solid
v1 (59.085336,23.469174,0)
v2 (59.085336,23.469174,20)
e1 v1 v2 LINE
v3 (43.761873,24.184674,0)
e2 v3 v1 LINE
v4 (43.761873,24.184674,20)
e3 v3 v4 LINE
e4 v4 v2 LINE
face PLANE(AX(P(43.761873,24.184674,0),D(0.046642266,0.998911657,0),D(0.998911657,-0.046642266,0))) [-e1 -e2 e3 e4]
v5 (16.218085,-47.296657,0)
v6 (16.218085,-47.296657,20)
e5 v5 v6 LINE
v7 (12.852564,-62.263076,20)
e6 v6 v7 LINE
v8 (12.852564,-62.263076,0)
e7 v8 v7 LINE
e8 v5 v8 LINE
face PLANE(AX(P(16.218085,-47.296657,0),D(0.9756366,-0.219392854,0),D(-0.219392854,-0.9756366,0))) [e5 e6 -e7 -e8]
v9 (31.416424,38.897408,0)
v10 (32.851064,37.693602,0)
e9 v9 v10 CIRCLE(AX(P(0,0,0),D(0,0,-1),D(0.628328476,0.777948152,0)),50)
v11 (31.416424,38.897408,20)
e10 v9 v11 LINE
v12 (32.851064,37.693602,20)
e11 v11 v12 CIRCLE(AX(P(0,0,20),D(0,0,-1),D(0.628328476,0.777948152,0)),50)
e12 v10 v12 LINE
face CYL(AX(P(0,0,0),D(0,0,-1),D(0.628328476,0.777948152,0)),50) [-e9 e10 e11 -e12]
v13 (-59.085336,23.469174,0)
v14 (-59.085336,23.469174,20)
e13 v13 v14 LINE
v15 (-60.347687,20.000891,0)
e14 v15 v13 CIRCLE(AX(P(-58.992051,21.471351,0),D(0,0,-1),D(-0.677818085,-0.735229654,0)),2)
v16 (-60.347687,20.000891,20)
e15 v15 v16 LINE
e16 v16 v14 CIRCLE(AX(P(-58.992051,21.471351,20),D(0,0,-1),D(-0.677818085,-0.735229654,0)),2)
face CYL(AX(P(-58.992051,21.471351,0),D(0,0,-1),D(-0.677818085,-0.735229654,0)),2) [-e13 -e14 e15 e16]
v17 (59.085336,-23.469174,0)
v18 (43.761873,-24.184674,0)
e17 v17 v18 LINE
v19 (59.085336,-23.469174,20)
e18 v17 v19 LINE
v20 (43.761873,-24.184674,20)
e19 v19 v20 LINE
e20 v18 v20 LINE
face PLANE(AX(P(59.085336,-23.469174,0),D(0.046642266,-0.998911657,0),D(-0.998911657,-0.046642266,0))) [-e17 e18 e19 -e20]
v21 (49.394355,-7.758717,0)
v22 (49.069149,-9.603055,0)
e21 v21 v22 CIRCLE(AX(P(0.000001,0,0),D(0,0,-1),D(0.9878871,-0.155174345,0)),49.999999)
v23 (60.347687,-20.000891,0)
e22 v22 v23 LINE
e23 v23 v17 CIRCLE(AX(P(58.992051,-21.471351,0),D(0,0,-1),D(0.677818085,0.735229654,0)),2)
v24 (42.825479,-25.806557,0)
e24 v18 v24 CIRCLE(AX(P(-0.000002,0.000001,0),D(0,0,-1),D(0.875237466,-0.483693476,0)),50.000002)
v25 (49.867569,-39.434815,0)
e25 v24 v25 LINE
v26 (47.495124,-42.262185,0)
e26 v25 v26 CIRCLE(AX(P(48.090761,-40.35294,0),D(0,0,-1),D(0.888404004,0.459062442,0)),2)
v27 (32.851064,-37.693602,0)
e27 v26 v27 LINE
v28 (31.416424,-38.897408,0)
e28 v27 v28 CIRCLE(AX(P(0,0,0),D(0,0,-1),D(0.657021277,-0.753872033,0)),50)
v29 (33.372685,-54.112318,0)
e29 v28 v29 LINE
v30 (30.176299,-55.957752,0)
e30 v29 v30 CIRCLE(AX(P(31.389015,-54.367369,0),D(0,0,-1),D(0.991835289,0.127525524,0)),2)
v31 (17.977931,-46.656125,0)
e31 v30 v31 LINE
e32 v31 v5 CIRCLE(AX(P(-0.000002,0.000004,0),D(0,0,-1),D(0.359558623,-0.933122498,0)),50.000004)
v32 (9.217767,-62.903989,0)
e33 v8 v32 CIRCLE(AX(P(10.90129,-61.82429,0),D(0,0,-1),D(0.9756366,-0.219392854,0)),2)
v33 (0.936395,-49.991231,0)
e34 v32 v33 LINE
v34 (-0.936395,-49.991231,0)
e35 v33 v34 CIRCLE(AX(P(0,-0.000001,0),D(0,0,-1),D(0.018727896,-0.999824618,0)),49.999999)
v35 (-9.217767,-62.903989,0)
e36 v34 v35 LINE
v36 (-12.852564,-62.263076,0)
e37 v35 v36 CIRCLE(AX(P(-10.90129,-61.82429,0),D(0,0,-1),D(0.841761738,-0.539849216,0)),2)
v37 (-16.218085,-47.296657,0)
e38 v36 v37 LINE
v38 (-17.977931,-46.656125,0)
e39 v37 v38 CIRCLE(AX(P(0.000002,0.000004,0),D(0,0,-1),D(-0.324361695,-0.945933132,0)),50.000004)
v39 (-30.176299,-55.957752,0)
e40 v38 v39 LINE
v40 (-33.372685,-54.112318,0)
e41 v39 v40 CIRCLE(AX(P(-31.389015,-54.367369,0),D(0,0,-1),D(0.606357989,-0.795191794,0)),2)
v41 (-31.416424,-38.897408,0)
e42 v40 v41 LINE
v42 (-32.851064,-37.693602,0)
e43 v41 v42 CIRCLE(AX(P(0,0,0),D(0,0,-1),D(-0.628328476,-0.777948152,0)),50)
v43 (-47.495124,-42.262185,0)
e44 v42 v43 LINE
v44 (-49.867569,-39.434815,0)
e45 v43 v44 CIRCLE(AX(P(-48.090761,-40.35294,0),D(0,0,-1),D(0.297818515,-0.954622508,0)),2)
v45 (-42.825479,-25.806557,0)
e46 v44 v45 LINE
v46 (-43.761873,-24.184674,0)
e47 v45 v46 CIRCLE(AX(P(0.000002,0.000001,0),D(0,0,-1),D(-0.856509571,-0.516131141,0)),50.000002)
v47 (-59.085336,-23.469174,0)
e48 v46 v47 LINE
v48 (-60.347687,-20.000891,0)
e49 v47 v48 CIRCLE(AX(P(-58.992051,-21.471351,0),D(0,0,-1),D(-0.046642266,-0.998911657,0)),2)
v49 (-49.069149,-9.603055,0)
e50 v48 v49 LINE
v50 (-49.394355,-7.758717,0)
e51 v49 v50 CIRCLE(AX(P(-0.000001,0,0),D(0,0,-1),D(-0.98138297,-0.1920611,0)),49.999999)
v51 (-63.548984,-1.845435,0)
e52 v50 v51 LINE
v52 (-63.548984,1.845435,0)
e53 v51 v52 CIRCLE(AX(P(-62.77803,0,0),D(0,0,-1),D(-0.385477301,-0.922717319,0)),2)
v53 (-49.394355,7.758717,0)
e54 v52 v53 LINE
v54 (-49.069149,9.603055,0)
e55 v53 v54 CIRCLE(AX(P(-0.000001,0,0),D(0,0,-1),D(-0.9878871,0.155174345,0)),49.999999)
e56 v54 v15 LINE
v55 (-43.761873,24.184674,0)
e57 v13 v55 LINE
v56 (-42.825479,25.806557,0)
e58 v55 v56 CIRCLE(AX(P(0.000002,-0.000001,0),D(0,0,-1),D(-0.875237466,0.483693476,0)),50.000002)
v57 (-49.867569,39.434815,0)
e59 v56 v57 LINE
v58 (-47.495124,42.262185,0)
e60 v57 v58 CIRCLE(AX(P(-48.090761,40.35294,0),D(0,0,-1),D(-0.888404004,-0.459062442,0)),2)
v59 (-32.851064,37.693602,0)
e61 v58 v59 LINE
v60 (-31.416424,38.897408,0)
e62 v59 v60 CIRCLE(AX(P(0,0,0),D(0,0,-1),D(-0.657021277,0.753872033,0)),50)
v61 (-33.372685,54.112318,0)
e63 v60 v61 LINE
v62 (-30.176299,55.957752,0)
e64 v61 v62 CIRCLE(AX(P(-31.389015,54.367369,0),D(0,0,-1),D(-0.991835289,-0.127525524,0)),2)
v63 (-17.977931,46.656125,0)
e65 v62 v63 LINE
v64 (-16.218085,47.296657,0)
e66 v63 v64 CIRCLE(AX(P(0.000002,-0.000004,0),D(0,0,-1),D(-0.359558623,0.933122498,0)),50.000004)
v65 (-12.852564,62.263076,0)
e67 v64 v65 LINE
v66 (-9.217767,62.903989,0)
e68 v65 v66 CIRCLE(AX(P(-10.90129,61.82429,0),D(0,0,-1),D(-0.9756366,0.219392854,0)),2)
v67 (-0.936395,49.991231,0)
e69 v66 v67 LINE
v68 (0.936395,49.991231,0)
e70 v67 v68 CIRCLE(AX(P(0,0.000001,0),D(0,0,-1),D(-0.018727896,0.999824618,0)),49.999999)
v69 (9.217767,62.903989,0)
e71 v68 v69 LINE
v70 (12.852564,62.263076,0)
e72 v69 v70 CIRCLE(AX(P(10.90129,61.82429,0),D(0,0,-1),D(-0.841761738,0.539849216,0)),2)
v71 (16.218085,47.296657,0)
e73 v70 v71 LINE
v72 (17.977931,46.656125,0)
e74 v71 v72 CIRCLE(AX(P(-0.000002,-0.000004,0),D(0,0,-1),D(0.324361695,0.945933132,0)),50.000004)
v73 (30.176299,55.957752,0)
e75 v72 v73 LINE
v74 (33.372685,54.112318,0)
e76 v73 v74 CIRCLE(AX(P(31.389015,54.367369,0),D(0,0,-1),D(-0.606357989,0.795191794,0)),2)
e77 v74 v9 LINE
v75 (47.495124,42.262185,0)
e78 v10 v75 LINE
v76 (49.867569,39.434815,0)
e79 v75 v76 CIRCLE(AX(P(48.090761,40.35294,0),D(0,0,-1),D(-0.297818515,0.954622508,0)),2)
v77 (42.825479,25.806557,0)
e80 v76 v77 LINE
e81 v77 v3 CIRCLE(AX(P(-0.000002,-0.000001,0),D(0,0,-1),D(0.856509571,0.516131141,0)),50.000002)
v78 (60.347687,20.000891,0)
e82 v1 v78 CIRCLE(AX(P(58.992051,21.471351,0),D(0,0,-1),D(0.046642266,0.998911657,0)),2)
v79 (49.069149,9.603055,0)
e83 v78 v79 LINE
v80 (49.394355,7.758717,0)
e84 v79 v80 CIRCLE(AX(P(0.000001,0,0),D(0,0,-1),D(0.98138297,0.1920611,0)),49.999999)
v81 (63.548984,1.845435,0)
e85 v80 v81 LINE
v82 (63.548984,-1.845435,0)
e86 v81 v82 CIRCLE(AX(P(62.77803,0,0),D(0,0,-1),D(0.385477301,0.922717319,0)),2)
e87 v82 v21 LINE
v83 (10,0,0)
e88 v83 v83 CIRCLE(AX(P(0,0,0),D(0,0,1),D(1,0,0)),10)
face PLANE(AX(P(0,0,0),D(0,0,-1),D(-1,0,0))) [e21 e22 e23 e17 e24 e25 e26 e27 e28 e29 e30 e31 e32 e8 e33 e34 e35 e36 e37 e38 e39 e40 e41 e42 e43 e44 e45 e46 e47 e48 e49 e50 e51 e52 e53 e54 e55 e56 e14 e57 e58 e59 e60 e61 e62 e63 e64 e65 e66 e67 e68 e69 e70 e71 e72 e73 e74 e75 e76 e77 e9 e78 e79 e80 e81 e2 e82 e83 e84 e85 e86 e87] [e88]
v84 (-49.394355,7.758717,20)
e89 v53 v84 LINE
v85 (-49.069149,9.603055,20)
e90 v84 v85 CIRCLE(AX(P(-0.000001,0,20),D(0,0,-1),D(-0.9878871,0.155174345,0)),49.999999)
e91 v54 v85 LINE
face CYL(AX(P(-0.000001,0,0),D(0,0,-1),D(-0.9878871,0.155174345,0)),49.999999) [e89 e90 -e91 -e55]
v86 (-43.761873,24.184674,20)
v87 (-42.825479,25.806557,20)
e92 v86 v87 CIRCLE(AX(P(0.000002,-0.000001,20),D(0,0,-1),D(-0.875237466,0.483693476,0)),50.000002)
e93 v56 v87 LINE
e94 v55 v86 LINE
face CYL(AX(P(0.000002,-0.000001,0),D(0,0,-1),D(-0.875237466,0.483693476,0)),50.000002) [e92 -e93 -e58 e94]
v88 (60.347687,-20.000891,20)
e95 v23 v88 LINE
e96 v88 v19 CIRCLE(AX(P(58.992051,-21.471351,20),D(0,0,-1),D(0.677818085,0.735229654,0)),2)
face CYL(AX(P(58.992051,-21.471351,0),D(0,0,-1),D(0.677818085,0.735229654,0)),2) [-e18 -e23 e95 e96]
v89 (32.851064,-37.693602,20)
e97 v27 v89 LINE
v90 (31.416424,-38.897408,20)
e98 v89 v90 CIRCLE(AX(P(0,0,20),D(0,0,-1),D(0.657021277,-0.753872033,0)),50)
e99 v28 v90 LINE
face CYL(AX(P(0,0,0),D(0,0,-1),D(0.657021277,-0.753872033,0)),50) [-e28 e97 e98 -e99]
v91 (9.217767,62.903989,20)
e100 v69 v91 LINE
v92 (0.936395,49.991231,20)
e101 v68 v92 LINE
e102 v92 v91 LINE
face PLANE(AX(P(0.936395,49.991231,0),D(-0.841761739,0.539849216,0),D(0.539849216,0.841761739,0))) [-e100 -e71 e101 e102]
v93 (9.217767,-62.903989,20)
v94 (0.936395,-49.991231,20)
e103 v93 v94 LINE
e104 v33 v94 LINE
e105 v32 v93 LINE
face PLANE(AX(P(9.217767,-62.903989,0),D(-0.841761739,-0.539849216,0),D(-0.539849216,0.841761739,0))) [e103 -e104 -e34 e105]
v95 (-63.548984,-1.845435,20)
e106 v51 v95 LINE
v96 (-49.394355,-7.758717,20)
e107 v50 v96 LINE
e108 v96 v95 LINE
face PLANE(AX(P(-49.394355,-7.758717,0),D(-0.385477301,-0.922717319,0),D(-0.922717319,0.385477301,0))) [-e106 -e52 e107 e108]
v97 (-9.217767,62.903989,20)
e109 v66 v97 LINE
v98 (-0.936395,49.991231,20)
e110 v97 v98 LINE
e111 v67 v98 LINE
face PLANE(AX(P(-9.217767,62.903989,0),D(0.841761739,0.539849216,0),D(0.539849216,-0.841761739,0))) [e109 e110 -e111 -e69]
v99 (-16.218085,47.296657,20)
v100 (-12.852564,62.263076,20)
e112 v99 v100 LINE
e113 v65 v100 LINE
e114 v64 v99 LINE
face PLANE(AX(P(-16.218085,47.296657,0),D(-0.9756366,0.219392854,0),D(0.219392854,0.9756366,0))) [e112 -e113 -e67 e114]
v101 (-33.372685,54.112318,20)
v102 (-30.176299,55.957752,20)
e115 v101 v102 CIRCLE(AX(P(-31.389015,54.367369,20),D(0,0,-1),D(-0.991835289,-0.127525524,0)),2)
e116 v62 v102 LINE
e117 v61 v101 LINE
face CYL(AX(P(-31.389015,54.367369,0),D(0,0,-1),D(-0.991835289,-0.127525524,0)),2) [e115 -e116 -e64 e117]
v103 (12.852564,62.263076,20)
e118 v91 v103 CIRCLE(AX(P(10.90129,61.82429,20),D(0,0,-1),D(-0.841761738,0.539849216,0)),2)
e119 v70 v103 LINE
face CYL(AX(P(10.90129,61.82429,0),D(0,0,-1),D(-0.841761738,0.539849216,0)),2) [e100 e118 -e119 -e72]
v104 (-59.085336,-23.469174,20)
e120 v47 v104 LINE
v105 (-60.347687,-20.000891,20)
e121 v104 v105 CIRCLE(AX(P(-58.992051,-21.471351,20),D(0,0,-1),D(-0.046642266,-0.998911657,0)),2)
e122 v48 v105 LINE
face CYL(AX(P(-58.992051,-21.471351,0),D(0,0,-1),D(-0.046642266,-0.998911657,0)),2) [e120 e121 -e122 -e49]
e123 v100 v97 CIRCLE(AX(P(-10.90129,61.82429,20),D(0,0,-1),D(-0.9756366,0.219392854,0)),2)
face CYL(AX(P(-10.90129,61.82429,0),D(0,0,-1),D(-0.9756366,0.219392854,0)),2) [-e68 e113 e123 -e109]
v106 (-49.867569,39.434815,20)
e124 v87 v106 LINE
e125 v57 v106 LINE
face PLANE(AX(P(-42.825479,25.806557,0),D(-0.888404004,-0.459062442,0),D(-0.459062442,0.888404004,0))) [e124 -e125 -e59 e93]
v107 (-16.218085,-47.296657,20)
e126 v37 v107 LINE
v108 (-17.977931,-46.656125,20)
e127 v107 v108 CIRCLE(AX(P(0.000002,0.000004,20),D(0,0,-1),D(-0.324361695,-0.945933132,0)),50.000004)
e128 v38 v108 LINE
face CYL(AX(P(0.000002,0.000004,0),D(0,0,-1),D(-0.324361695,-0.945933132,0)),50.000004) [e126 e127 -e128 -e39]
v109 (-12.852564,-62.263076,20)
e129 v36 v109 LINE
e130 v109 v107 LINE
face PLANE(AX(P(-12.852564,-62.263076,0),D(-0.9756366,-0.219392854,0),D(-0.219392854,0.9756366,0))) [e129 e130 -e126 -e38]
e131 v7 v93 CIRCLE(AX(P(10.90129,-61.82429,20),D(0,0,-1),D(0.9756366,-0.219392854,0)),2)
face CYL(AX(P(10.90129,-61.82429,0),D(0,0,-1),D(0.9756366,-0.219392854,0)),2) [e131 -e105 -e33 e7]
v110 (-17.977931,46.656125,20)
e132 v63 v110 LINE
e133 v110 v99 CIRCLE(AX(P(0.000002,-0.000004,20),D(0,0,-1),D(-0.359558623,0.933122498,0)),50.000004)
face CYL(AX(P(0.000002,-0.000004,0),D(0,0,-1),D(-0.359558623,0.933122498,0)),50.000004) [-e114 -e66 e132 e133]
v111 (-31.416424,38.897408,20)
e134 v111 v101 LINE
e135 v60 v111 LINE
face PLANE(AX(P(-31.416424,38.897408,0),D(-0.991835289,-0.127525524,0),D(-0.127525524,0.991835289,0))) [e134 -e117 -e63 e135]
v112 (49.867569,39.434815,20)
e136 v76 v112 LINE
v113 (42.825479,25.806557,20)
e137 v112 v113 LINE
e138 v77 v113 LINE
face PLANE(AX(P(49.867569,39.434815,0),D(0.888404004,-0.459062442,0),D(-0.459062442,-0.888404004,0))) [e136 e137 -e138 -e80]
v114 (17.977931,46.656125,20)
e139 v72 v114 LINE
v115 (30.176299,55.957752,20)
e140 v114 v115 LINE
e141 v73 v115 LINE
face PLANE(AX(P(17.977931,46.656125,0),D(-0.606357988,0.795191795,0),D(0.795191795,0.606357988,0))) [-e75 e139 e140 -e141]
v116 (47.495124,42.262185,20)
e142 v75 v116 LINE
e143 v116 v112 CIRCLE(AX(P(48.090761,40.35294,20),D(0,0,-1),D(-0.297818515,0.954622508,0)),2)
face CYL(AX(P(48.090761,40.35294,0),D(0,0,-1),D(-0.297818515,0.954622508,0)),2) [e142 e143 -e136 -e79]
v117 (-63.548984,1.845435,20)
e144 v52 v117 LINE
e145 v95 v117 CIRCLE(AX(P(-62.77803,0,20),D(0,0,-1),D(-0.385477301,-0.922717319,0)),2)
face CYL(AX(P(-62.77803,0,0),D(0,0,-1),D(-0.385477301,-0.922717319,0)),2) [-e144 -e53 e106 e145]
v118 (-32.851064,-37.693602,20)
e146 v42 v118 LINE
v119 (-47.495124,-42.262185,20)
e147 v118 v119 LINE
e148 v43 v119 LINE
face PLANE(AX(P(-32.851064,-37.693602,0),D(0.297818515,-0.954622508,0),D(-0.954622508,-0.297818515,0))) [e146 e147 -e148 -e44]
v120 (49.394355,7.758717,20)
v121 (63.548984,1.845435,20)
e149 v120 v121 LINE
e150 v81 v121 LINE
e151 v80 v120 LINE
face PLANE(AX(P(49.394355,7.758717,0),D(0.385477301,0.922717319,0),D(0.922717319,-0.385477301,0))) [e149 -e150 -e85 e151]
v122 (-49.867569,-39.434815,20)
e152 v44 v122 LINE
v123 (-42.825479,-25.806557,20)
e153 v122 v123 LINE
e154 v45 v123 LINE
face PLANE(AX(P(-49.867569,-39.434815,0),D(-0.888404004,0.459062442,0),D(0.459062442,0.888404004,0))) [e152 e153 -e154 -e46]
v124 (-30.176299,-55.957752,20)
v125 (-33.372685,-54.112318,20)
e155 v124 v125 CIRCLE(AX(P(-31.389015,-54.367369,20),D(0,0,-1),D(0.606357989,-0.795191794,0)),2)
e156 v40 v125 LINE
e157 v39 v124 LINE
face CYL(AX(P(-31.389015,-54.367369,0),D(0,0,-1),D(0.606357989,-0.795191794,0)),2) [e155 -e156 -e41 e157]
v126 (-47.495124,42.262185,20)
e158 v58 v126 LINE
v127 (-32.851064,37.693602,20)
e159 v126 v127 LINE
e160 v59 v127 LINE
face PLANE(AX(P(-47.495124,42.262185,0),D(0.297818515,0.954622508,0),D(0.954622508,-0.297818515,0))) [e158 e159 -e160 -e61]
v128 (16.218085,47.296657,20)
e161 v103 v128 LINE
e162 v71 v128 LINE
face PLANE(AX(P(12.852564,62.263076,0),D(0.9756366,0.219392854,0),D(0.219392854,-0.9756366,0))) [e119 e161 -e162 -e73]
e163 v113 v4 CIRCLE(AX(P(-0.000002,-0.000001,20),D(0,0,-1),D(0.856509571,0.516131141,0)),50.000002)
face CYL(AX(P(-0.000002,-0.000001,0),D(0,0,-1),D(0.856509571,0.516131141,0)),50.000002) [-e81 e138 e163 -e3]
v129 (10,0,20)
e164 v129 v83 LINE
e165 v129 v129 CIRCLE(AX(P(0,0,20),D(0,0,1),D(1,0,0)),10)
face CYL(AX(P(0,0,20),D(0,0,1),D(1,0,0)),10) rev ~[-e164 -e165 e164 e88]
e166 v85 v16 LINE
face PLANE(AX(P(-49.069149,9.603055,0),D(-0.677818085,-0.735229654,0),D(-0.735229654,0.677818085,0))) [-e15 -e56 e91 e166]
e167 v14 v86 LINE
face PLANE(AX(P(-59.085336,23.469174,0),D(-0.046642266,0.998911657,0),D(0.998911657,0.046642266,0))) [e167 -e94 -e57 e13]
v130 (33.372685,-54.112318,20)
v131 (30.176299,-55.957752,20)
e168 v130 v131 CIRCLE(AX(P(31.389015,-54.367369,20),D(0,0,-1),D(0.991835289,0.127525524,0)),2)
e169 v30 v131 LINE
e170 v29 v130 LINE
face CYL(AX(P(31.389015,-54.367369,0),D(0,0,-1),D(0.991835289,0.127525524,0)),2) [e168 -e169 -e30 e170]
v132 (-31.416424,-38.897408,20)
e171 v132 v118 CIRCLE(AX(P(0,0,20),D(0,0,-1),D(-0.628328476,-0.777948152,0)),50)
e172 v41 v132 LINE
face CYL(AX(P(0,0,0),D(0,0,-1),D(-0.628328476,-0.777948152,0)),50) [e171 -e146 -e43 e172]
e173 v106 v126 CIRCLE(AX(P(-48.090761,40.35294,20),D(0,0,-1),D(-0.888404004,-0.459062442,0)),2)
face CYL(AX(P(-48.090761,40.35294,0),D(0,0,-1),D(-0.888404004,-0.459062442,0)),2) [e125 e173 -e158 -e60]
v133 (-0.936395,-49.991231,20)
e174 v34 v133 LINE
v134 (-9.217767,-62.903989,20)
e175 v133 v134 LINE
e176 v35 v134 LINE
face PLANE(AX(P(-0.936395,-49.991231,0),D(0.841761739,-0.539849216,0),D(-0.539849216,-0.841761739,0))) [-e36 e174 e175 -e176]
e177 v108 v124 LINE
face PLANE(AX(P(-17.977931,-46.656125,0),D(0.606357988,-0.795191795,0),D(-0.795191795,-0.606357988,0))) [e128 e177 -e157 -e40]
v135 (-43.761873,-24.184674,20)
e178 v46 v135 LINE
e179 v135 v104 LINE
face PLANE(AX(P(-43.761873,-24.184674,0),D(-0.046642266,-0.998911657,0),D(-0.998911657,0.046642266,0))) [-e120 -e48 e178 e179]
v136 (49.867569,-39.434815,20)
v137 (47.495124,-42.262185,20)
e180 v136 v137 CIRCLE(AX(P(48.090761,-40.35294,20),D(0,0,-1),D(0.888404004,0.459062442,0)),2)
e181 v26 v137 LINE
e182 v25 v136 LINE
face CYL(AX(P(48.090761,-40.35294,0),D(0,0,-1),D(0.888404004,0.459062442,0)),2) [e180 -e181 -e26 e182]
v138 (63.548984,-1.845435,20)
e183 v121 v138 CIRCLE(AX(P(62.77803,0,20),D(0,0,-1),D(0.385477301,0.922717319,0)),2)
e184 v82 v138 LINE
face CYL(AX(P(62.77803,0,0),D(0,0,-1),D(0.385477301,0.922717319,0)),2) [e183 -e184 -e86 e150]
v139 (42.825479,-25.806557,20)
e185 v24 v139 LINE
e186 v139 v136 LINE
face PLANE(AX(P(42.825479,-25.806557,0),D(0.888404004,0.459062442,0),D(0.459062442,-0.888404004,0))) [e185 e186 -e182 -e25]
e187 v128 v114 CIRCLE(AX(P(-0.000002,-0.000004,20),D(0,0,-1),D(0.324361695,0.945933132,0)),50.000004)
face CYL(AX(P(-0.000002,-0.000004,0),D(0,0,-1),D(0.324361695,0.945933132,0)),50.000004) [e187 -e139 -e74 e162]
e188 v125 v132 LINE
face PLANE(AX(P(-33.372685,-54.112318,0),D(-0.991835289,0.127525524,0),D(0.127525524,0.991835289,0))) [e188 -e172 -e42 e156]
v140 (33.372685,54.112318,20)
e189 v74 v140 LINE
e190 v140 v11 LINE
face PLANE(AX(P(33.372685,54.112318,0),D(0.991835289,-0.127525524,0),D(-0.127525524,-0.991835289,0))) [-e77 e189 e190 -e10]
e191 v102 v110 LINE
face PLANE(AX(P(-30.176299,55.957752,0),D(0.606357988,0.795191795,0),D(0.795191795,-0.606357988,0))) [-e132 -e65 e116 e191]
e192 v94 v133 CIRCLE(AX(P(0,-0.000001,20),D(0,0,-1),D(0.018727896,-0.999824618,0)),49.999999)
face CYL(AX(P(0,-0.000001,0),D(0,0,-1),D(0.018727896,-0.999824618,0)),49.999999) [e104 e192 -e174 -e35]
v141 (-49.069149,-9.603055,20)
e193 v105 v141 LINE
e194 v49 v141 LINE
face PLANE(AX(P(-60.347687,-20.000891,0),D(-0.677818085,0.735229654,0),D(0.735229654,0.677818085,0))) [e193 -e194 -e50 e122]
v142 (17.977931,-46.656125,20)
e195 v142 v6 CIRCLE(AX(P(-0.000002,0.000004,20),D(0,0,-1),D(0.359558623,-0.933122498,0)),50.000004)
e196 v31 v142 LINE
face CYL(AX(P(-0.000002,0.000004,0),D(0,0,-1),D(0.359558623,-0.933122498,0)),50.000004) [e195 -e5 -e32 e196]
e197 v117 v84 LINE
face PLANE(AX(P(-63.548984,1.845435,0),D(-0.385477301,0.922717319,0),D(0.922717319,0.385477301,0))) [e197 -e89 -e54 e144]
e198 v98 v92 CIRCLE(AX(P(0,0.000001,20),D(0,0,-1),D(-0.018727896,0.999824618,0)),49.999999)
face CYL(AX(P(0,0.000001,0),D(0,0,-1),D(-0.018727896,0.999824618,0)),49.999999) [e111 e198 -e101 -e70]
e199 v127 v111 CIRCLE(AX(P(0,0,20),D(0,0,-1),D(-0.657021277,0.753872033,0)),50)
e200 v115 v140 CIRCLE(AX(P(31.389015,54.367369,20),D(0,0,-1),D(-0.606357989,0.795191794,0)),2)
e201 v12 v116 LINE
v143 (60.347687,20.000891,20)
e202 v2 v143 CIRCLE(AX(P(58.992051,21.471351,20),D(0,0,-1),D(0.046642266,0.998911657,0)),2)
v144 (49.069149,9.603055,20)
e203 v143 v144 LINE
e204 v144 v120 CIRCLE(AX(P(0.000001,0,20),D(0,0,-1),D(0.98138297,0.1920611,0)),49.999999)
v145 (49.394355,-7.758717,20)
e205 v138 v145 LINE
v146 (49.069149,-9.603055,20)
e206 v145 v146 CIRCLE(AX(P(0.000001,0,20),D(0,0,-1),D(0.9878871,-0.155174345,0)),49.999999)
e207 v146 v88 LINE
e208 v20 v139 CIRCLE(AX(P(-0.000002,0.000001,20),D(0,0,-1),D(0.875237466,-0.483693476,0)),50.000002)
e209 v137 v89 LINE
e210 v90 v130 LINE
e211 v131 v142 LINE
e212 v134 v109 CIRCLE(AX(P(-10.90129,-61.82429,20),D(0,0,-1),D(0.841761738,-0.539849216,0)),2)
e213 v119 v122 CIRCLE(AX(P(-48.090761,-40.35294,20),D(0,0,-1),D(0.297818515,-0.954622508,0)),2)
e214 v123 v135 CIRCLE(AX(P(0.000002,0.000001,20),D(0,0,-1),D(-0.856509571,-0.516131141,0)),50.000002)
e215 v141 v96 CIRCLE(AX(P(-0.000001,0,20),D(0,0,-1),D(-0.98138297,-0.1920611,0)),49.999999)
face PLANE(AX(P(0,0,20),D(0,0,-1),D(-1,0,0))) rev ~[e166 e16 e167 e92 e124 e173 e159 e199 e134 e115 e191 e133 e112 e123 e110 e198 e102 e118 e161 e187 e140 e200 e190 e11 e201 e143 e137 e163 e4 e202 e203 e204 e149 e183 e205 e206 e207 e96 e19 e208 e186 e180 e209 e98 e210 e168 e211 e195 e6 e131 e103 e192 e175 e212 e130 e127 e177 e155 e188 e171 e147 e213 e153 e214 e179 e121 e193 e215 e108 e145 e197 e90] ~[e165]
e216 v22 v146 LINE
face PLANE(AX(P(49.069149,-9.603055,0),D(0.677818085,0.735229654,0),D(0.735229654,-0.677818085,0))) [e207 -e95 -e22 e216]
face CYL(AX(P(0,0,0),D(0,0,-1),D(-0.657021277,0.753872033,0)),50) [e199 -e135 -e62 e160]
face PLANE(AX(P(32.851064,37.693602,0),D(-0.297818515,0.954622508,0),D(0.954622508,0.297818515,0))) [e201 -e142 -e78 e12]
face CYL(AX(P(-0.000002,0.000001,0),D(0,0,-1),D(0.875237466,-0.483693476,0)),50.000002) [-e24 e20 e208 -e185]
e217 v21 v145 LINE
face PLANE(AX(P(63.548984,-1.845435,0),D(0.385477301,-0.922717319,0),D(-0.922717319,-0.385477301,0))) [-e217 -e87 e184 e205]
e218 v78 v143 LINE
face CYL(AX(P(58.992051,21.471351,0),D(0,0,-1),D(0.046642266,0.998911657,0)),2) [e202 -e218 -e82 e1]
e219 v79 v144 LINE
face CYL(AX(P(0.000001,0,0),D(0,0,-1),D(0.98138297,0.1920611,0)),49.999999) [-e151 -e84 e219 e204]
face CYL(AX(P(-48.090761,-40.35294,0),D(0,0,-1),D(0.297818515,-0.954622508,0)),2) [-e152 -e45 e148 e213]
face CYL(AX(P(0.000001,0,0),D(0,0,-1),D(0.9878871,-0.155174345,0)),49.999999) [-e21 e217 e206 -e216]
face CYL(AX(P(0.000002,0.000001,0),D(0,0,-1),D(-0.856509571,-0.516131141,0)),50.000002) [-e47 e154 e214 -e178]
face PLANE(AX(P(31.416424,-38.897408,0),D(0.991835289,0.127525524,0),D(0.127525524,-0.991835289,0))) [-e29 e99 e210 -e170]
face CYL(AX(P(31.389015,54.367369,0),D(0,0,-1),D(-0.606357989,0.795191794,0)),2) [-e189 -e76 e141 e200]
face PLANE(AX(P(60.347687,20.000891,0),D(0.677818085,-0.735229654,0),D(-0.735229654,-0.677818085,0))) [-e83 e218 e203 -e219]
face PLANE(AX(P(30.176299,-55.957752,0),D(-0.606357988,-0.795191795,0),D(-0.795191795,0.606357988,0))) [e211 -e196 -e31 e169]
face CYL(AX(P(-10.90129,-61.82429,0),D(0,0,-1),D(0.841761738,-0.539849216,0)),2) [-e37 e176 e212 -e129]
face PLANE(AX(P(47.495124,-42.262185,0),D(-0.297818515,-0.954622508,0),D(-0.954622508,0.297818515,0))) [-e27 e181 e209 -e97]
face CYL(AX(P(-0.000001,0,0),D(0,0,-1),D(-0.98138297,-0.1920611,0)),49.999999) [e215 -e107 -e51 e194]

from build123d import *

# Parameters (mm, degrees)
EXTRUDE_1_DEPTH     = 20
SKETCH_2_R          = 10
CUT_EXTRUDE_1_DEPTH = 20


with BuildPart() as part:
    # 草圖1 → 填料-伸長1 (new body)
    with BuildSketch(Plane.XY):
        with BuildLine():
            Line((-63.548984366, 1.845434638), (-49.394355, 7.7587173))
            ThreePointArc((-49.394355, 7.7587173), (-49.240387651, 8.682408883), (-49.069148505, 9.603054983))
            Line((-49.069148505, 9.603054983), (-60.347687486, 20.00089143))
            ThreePointArc((-60.347687486, 20.00089143), (-60.871436558, 22.155391024), (-59.085335848, 23.469174052))
            Line((-59.085335848, 23.469174052), (-43.761873299, 24.18467377))
            ThreePointArc((-43.761873299, 24.18467377), (-43.301270189, 25), (-42.825478517, 25.806557109))
            Line((-42.825478517, 25.806557109), (-49.867568859, 39.434814809))
            ThreePointArc((-49.867568859, 39.434814809), (-49.622849737, 41.638514912), (-47.49512382, 42.262184708))
            Line((-47.49512382, 42.262184708), (-32.851063821, 37.693601656))
            ThreePointArc((-32.851063821, 37.693601656), (-32.139380484, 38.302222156), (-31.416423783, 38.897407583))
            Line((-31.416423783, 38.897407583), (-33.37268546, 54.112317527))
            ThreePointArc((-33.37268546, 54.112317527), (-32.389014882, 56.099419383), (-30.176298906, 55.957752164))
            Line((-30.176298906, 55.957752164), (-17.977931217, 46.656124884))
            ThreePointArc((-17.977931217, 46.656124884), (-17.101007166, 46.984631039), (-16.218084684, 47.296656639))
            Line((-16.218084684, 47.296656639), (-12.852563667, 62.263076138))
            ThreePointArc((-12.852563667, 62.263076138), (-11.248586821, 63.793905936), (-9.217766989, 62.903988861))
            Line((-9.217766989, 62.903988861), (-0.936394782, 49.991230879))
            ThreePointArc((-0.936394782, 49.991230879), (0, 50), (0.936394782, 49.991230879))
            Line((0.936394782, 49.991230879), (9.217766989, 62.903988861))
            ThreePointArc((9.217766989, 62.903988861), (11.248586821, 63.793905936), (12.852563667, 62.263076138))
            Line((12.852563667, 62.263076138), (16.218084684, 47.296656639))
            ThreePointArc((16.218084684, 47.296656639), (17.101007166, 46.984631039), (17.977931217, 46.656124884))
            Line((17.977931217, 46.656124884), (30.176298906, 55.957752164))
            ThreePointArc((30.176298906, 55.957752164), (32.389014882, 56.099419383), (33.37268546, 54.112317527))
            Line((33.37268546, 54.112317527), (31.416423783, 38.897407583))
            ThreePointArc((31.416423783, 38.897407583), (32.139380484, 38.302222156), (32.851063821, 37.693601656))
            Line((32.851063821, 37.693601656), (47.49512382, 42.262184708))
            ThreePointArc((47.49512382, 42.262184708), (49.622849737, 41.638514912), (49.867568859, 39.434814809))
            Line((49.867568859, 39.434814809), (42.825478517, 25.806557109))
            ThreePointArc((42.825478517, 25.806557109), (43.301270189, 25), (43.761873299, 24.18467377))
            Line((43.761873299, 24.18467377), (59.085335848, 23.469174052))
            ThreePointArc((59.085335848, 23.469174052), (60.871436558, 22.155391024), (60.347687486, 20.00089143))
            Line((60.347687486, 20.00089143), (49.069148505, 9.603054983))
            ThreePointArc((49.069148505, 9.603054983), (49.240387651, 8.682408883), (49.394355, 7.7587173))
            Line((49.394355, 7.7587173), (63.548984366, 1.845434638))
            ThreePointArc((63.548984366, 1.845434638), (64.778029764, 0), (63.548984366, -1.845434638))
            Line((63.548984366, -1.845434638), (49.394355, -7.7587173))
            ThreePointArc((49.394355, -7.7587173), (49.240387651, -8.682408883), (49.069148505, -9.603054983))
            Line((49.069148505, -9.603054983), (60.347687486, -20.00089143))
            ThreePointArc((60.347687486, -20.00089143), (60.871436558, -22.155391024), (59.085335848, -23.469174052))
            Line((59.085335848, -23.469174052), (43.761873299, -24.18467377))
            ThreePointArc((43.761873299, -24.18467377), (43.301270189, -25), (42.825478517, -25.806557109))
            Line((42.825478517, -25.806557109), (49.867568859, -39.434814809))
            ThreePointArc((49.867568859, -39.434814809), (49.622849737, -41.638514912), (47.49512382, -42.262184708))
            Line((47.49512382, -42.262184708), (32.851063821, -37.693601656))
            ThreePointArc((32.851063821, -37.693601656), (32.139380484, -38.302222156), (31.416423783, -38.897407583))
            Line((31.416423783, -38.897407583), (33.37268546, -54.112317527))
            ThreePointArc((33.37268546, -54.112317527), (32.389014882, -56.099419383), (30.176298906, -55.957752164))
            Line((30.176298906, -55.957752164), (17.977931217, -46.656124884))
            ThreePointArc((17.977931217, -46.656124884), (17.101007166, -46.984631039), (16.218084684, -47.296656639))
            Line((16.218084684, -47.296656639), (12.852563667, -62.263076138))
            ThreePointArc((12.852563667, -62.263076138), (11.248586821, -63.793905936), (9.217766989, -62.903988861))
            Line((9.217766989, -62.903988861), (0.936394782, -49.991230879))
            ThreePointArc((0.936394782, -49.991230879), (0, -50), (-0.936394782, -49.991230879))
            Line((-0.936394782, -49.991230879), (-9.217766989, -62.903988861))
            ThreePointArc((-9.217766989, -62.903988861), (-11.248586821, -63.793905936), (-12.852563667, -62.263076138))
            Line((-12.852563667, -62.263076138), (-16.218084684, -47.296656639))
            ThreePointArc((-16.218084684, -47.296656639), (-17.101007166, -46.984631039), (-17.977931217, -46.656124884))
            Line((-17.977931217, -46.656124884), (-30.176298906, -55.957752164))
            ThreePointArc((-30.176298906, -55.957752164), (-32.389014882, -56.099419383), (-33.37268546, -54.112317527))
            Line((-33.37268546, -54.112317527), (-31.416423783, -38.897407583))
            ThreePointArc((-31.416423783, -38.897407583), (-32.139380484, -38.302222156), (-32.851063821, -37.693601656))
            Line((-32.851063821, -37.693601656), (-47.49512382, -42.262184708))
            ThreePointArc((-47.49512382, -42.262184708), (-49.622849737, -41.638514912), (-49.867568859, -39.434814809))
            Line((-49.867568859, -39.434814809), (-42.825478517, -25.806557109))
            ThreePointArc((-42.825478517, -25.806557109), (-43.301270189, -25), (-43.761873299, -24.18467377))
            Line((-43.761873299, -24.18467377), (-59.085335848, -23.469174052))
            ThreePointArc((-59.085335848, -23.469174052), (-60.871436558, -22.155391024), (-60.347687486, -20.00089143))
            Line((-60.347687486, -20.00089143), (-49.069148505, -9.603054983))
            ThreePointArc((-49.069148505, -9.603054983), (-49.240387651, -8.682408883), (-49.394355, -7.7587173))
            Line((-49.394355, -7.7587173), (-63.548984366, -1.845434638))
            ThreePointArc((-63.548984366, -1.845434638), (-64.778029764, 0), (-63.548984366, 1.845434638))
        make_face()
    extrude(amount=EXTRUDE_1_DEPTH)

    # 草圖2 → 除料-伸長1 (cut)
    with BuildSketch(Plane.XY.offset(20)):
        Circle(SKETCH_2_R)
    extrude(amount=-CUT_EXTRUDE_1_DEPTH, mode=Mode.SUBTRACT)


solid = part.part
